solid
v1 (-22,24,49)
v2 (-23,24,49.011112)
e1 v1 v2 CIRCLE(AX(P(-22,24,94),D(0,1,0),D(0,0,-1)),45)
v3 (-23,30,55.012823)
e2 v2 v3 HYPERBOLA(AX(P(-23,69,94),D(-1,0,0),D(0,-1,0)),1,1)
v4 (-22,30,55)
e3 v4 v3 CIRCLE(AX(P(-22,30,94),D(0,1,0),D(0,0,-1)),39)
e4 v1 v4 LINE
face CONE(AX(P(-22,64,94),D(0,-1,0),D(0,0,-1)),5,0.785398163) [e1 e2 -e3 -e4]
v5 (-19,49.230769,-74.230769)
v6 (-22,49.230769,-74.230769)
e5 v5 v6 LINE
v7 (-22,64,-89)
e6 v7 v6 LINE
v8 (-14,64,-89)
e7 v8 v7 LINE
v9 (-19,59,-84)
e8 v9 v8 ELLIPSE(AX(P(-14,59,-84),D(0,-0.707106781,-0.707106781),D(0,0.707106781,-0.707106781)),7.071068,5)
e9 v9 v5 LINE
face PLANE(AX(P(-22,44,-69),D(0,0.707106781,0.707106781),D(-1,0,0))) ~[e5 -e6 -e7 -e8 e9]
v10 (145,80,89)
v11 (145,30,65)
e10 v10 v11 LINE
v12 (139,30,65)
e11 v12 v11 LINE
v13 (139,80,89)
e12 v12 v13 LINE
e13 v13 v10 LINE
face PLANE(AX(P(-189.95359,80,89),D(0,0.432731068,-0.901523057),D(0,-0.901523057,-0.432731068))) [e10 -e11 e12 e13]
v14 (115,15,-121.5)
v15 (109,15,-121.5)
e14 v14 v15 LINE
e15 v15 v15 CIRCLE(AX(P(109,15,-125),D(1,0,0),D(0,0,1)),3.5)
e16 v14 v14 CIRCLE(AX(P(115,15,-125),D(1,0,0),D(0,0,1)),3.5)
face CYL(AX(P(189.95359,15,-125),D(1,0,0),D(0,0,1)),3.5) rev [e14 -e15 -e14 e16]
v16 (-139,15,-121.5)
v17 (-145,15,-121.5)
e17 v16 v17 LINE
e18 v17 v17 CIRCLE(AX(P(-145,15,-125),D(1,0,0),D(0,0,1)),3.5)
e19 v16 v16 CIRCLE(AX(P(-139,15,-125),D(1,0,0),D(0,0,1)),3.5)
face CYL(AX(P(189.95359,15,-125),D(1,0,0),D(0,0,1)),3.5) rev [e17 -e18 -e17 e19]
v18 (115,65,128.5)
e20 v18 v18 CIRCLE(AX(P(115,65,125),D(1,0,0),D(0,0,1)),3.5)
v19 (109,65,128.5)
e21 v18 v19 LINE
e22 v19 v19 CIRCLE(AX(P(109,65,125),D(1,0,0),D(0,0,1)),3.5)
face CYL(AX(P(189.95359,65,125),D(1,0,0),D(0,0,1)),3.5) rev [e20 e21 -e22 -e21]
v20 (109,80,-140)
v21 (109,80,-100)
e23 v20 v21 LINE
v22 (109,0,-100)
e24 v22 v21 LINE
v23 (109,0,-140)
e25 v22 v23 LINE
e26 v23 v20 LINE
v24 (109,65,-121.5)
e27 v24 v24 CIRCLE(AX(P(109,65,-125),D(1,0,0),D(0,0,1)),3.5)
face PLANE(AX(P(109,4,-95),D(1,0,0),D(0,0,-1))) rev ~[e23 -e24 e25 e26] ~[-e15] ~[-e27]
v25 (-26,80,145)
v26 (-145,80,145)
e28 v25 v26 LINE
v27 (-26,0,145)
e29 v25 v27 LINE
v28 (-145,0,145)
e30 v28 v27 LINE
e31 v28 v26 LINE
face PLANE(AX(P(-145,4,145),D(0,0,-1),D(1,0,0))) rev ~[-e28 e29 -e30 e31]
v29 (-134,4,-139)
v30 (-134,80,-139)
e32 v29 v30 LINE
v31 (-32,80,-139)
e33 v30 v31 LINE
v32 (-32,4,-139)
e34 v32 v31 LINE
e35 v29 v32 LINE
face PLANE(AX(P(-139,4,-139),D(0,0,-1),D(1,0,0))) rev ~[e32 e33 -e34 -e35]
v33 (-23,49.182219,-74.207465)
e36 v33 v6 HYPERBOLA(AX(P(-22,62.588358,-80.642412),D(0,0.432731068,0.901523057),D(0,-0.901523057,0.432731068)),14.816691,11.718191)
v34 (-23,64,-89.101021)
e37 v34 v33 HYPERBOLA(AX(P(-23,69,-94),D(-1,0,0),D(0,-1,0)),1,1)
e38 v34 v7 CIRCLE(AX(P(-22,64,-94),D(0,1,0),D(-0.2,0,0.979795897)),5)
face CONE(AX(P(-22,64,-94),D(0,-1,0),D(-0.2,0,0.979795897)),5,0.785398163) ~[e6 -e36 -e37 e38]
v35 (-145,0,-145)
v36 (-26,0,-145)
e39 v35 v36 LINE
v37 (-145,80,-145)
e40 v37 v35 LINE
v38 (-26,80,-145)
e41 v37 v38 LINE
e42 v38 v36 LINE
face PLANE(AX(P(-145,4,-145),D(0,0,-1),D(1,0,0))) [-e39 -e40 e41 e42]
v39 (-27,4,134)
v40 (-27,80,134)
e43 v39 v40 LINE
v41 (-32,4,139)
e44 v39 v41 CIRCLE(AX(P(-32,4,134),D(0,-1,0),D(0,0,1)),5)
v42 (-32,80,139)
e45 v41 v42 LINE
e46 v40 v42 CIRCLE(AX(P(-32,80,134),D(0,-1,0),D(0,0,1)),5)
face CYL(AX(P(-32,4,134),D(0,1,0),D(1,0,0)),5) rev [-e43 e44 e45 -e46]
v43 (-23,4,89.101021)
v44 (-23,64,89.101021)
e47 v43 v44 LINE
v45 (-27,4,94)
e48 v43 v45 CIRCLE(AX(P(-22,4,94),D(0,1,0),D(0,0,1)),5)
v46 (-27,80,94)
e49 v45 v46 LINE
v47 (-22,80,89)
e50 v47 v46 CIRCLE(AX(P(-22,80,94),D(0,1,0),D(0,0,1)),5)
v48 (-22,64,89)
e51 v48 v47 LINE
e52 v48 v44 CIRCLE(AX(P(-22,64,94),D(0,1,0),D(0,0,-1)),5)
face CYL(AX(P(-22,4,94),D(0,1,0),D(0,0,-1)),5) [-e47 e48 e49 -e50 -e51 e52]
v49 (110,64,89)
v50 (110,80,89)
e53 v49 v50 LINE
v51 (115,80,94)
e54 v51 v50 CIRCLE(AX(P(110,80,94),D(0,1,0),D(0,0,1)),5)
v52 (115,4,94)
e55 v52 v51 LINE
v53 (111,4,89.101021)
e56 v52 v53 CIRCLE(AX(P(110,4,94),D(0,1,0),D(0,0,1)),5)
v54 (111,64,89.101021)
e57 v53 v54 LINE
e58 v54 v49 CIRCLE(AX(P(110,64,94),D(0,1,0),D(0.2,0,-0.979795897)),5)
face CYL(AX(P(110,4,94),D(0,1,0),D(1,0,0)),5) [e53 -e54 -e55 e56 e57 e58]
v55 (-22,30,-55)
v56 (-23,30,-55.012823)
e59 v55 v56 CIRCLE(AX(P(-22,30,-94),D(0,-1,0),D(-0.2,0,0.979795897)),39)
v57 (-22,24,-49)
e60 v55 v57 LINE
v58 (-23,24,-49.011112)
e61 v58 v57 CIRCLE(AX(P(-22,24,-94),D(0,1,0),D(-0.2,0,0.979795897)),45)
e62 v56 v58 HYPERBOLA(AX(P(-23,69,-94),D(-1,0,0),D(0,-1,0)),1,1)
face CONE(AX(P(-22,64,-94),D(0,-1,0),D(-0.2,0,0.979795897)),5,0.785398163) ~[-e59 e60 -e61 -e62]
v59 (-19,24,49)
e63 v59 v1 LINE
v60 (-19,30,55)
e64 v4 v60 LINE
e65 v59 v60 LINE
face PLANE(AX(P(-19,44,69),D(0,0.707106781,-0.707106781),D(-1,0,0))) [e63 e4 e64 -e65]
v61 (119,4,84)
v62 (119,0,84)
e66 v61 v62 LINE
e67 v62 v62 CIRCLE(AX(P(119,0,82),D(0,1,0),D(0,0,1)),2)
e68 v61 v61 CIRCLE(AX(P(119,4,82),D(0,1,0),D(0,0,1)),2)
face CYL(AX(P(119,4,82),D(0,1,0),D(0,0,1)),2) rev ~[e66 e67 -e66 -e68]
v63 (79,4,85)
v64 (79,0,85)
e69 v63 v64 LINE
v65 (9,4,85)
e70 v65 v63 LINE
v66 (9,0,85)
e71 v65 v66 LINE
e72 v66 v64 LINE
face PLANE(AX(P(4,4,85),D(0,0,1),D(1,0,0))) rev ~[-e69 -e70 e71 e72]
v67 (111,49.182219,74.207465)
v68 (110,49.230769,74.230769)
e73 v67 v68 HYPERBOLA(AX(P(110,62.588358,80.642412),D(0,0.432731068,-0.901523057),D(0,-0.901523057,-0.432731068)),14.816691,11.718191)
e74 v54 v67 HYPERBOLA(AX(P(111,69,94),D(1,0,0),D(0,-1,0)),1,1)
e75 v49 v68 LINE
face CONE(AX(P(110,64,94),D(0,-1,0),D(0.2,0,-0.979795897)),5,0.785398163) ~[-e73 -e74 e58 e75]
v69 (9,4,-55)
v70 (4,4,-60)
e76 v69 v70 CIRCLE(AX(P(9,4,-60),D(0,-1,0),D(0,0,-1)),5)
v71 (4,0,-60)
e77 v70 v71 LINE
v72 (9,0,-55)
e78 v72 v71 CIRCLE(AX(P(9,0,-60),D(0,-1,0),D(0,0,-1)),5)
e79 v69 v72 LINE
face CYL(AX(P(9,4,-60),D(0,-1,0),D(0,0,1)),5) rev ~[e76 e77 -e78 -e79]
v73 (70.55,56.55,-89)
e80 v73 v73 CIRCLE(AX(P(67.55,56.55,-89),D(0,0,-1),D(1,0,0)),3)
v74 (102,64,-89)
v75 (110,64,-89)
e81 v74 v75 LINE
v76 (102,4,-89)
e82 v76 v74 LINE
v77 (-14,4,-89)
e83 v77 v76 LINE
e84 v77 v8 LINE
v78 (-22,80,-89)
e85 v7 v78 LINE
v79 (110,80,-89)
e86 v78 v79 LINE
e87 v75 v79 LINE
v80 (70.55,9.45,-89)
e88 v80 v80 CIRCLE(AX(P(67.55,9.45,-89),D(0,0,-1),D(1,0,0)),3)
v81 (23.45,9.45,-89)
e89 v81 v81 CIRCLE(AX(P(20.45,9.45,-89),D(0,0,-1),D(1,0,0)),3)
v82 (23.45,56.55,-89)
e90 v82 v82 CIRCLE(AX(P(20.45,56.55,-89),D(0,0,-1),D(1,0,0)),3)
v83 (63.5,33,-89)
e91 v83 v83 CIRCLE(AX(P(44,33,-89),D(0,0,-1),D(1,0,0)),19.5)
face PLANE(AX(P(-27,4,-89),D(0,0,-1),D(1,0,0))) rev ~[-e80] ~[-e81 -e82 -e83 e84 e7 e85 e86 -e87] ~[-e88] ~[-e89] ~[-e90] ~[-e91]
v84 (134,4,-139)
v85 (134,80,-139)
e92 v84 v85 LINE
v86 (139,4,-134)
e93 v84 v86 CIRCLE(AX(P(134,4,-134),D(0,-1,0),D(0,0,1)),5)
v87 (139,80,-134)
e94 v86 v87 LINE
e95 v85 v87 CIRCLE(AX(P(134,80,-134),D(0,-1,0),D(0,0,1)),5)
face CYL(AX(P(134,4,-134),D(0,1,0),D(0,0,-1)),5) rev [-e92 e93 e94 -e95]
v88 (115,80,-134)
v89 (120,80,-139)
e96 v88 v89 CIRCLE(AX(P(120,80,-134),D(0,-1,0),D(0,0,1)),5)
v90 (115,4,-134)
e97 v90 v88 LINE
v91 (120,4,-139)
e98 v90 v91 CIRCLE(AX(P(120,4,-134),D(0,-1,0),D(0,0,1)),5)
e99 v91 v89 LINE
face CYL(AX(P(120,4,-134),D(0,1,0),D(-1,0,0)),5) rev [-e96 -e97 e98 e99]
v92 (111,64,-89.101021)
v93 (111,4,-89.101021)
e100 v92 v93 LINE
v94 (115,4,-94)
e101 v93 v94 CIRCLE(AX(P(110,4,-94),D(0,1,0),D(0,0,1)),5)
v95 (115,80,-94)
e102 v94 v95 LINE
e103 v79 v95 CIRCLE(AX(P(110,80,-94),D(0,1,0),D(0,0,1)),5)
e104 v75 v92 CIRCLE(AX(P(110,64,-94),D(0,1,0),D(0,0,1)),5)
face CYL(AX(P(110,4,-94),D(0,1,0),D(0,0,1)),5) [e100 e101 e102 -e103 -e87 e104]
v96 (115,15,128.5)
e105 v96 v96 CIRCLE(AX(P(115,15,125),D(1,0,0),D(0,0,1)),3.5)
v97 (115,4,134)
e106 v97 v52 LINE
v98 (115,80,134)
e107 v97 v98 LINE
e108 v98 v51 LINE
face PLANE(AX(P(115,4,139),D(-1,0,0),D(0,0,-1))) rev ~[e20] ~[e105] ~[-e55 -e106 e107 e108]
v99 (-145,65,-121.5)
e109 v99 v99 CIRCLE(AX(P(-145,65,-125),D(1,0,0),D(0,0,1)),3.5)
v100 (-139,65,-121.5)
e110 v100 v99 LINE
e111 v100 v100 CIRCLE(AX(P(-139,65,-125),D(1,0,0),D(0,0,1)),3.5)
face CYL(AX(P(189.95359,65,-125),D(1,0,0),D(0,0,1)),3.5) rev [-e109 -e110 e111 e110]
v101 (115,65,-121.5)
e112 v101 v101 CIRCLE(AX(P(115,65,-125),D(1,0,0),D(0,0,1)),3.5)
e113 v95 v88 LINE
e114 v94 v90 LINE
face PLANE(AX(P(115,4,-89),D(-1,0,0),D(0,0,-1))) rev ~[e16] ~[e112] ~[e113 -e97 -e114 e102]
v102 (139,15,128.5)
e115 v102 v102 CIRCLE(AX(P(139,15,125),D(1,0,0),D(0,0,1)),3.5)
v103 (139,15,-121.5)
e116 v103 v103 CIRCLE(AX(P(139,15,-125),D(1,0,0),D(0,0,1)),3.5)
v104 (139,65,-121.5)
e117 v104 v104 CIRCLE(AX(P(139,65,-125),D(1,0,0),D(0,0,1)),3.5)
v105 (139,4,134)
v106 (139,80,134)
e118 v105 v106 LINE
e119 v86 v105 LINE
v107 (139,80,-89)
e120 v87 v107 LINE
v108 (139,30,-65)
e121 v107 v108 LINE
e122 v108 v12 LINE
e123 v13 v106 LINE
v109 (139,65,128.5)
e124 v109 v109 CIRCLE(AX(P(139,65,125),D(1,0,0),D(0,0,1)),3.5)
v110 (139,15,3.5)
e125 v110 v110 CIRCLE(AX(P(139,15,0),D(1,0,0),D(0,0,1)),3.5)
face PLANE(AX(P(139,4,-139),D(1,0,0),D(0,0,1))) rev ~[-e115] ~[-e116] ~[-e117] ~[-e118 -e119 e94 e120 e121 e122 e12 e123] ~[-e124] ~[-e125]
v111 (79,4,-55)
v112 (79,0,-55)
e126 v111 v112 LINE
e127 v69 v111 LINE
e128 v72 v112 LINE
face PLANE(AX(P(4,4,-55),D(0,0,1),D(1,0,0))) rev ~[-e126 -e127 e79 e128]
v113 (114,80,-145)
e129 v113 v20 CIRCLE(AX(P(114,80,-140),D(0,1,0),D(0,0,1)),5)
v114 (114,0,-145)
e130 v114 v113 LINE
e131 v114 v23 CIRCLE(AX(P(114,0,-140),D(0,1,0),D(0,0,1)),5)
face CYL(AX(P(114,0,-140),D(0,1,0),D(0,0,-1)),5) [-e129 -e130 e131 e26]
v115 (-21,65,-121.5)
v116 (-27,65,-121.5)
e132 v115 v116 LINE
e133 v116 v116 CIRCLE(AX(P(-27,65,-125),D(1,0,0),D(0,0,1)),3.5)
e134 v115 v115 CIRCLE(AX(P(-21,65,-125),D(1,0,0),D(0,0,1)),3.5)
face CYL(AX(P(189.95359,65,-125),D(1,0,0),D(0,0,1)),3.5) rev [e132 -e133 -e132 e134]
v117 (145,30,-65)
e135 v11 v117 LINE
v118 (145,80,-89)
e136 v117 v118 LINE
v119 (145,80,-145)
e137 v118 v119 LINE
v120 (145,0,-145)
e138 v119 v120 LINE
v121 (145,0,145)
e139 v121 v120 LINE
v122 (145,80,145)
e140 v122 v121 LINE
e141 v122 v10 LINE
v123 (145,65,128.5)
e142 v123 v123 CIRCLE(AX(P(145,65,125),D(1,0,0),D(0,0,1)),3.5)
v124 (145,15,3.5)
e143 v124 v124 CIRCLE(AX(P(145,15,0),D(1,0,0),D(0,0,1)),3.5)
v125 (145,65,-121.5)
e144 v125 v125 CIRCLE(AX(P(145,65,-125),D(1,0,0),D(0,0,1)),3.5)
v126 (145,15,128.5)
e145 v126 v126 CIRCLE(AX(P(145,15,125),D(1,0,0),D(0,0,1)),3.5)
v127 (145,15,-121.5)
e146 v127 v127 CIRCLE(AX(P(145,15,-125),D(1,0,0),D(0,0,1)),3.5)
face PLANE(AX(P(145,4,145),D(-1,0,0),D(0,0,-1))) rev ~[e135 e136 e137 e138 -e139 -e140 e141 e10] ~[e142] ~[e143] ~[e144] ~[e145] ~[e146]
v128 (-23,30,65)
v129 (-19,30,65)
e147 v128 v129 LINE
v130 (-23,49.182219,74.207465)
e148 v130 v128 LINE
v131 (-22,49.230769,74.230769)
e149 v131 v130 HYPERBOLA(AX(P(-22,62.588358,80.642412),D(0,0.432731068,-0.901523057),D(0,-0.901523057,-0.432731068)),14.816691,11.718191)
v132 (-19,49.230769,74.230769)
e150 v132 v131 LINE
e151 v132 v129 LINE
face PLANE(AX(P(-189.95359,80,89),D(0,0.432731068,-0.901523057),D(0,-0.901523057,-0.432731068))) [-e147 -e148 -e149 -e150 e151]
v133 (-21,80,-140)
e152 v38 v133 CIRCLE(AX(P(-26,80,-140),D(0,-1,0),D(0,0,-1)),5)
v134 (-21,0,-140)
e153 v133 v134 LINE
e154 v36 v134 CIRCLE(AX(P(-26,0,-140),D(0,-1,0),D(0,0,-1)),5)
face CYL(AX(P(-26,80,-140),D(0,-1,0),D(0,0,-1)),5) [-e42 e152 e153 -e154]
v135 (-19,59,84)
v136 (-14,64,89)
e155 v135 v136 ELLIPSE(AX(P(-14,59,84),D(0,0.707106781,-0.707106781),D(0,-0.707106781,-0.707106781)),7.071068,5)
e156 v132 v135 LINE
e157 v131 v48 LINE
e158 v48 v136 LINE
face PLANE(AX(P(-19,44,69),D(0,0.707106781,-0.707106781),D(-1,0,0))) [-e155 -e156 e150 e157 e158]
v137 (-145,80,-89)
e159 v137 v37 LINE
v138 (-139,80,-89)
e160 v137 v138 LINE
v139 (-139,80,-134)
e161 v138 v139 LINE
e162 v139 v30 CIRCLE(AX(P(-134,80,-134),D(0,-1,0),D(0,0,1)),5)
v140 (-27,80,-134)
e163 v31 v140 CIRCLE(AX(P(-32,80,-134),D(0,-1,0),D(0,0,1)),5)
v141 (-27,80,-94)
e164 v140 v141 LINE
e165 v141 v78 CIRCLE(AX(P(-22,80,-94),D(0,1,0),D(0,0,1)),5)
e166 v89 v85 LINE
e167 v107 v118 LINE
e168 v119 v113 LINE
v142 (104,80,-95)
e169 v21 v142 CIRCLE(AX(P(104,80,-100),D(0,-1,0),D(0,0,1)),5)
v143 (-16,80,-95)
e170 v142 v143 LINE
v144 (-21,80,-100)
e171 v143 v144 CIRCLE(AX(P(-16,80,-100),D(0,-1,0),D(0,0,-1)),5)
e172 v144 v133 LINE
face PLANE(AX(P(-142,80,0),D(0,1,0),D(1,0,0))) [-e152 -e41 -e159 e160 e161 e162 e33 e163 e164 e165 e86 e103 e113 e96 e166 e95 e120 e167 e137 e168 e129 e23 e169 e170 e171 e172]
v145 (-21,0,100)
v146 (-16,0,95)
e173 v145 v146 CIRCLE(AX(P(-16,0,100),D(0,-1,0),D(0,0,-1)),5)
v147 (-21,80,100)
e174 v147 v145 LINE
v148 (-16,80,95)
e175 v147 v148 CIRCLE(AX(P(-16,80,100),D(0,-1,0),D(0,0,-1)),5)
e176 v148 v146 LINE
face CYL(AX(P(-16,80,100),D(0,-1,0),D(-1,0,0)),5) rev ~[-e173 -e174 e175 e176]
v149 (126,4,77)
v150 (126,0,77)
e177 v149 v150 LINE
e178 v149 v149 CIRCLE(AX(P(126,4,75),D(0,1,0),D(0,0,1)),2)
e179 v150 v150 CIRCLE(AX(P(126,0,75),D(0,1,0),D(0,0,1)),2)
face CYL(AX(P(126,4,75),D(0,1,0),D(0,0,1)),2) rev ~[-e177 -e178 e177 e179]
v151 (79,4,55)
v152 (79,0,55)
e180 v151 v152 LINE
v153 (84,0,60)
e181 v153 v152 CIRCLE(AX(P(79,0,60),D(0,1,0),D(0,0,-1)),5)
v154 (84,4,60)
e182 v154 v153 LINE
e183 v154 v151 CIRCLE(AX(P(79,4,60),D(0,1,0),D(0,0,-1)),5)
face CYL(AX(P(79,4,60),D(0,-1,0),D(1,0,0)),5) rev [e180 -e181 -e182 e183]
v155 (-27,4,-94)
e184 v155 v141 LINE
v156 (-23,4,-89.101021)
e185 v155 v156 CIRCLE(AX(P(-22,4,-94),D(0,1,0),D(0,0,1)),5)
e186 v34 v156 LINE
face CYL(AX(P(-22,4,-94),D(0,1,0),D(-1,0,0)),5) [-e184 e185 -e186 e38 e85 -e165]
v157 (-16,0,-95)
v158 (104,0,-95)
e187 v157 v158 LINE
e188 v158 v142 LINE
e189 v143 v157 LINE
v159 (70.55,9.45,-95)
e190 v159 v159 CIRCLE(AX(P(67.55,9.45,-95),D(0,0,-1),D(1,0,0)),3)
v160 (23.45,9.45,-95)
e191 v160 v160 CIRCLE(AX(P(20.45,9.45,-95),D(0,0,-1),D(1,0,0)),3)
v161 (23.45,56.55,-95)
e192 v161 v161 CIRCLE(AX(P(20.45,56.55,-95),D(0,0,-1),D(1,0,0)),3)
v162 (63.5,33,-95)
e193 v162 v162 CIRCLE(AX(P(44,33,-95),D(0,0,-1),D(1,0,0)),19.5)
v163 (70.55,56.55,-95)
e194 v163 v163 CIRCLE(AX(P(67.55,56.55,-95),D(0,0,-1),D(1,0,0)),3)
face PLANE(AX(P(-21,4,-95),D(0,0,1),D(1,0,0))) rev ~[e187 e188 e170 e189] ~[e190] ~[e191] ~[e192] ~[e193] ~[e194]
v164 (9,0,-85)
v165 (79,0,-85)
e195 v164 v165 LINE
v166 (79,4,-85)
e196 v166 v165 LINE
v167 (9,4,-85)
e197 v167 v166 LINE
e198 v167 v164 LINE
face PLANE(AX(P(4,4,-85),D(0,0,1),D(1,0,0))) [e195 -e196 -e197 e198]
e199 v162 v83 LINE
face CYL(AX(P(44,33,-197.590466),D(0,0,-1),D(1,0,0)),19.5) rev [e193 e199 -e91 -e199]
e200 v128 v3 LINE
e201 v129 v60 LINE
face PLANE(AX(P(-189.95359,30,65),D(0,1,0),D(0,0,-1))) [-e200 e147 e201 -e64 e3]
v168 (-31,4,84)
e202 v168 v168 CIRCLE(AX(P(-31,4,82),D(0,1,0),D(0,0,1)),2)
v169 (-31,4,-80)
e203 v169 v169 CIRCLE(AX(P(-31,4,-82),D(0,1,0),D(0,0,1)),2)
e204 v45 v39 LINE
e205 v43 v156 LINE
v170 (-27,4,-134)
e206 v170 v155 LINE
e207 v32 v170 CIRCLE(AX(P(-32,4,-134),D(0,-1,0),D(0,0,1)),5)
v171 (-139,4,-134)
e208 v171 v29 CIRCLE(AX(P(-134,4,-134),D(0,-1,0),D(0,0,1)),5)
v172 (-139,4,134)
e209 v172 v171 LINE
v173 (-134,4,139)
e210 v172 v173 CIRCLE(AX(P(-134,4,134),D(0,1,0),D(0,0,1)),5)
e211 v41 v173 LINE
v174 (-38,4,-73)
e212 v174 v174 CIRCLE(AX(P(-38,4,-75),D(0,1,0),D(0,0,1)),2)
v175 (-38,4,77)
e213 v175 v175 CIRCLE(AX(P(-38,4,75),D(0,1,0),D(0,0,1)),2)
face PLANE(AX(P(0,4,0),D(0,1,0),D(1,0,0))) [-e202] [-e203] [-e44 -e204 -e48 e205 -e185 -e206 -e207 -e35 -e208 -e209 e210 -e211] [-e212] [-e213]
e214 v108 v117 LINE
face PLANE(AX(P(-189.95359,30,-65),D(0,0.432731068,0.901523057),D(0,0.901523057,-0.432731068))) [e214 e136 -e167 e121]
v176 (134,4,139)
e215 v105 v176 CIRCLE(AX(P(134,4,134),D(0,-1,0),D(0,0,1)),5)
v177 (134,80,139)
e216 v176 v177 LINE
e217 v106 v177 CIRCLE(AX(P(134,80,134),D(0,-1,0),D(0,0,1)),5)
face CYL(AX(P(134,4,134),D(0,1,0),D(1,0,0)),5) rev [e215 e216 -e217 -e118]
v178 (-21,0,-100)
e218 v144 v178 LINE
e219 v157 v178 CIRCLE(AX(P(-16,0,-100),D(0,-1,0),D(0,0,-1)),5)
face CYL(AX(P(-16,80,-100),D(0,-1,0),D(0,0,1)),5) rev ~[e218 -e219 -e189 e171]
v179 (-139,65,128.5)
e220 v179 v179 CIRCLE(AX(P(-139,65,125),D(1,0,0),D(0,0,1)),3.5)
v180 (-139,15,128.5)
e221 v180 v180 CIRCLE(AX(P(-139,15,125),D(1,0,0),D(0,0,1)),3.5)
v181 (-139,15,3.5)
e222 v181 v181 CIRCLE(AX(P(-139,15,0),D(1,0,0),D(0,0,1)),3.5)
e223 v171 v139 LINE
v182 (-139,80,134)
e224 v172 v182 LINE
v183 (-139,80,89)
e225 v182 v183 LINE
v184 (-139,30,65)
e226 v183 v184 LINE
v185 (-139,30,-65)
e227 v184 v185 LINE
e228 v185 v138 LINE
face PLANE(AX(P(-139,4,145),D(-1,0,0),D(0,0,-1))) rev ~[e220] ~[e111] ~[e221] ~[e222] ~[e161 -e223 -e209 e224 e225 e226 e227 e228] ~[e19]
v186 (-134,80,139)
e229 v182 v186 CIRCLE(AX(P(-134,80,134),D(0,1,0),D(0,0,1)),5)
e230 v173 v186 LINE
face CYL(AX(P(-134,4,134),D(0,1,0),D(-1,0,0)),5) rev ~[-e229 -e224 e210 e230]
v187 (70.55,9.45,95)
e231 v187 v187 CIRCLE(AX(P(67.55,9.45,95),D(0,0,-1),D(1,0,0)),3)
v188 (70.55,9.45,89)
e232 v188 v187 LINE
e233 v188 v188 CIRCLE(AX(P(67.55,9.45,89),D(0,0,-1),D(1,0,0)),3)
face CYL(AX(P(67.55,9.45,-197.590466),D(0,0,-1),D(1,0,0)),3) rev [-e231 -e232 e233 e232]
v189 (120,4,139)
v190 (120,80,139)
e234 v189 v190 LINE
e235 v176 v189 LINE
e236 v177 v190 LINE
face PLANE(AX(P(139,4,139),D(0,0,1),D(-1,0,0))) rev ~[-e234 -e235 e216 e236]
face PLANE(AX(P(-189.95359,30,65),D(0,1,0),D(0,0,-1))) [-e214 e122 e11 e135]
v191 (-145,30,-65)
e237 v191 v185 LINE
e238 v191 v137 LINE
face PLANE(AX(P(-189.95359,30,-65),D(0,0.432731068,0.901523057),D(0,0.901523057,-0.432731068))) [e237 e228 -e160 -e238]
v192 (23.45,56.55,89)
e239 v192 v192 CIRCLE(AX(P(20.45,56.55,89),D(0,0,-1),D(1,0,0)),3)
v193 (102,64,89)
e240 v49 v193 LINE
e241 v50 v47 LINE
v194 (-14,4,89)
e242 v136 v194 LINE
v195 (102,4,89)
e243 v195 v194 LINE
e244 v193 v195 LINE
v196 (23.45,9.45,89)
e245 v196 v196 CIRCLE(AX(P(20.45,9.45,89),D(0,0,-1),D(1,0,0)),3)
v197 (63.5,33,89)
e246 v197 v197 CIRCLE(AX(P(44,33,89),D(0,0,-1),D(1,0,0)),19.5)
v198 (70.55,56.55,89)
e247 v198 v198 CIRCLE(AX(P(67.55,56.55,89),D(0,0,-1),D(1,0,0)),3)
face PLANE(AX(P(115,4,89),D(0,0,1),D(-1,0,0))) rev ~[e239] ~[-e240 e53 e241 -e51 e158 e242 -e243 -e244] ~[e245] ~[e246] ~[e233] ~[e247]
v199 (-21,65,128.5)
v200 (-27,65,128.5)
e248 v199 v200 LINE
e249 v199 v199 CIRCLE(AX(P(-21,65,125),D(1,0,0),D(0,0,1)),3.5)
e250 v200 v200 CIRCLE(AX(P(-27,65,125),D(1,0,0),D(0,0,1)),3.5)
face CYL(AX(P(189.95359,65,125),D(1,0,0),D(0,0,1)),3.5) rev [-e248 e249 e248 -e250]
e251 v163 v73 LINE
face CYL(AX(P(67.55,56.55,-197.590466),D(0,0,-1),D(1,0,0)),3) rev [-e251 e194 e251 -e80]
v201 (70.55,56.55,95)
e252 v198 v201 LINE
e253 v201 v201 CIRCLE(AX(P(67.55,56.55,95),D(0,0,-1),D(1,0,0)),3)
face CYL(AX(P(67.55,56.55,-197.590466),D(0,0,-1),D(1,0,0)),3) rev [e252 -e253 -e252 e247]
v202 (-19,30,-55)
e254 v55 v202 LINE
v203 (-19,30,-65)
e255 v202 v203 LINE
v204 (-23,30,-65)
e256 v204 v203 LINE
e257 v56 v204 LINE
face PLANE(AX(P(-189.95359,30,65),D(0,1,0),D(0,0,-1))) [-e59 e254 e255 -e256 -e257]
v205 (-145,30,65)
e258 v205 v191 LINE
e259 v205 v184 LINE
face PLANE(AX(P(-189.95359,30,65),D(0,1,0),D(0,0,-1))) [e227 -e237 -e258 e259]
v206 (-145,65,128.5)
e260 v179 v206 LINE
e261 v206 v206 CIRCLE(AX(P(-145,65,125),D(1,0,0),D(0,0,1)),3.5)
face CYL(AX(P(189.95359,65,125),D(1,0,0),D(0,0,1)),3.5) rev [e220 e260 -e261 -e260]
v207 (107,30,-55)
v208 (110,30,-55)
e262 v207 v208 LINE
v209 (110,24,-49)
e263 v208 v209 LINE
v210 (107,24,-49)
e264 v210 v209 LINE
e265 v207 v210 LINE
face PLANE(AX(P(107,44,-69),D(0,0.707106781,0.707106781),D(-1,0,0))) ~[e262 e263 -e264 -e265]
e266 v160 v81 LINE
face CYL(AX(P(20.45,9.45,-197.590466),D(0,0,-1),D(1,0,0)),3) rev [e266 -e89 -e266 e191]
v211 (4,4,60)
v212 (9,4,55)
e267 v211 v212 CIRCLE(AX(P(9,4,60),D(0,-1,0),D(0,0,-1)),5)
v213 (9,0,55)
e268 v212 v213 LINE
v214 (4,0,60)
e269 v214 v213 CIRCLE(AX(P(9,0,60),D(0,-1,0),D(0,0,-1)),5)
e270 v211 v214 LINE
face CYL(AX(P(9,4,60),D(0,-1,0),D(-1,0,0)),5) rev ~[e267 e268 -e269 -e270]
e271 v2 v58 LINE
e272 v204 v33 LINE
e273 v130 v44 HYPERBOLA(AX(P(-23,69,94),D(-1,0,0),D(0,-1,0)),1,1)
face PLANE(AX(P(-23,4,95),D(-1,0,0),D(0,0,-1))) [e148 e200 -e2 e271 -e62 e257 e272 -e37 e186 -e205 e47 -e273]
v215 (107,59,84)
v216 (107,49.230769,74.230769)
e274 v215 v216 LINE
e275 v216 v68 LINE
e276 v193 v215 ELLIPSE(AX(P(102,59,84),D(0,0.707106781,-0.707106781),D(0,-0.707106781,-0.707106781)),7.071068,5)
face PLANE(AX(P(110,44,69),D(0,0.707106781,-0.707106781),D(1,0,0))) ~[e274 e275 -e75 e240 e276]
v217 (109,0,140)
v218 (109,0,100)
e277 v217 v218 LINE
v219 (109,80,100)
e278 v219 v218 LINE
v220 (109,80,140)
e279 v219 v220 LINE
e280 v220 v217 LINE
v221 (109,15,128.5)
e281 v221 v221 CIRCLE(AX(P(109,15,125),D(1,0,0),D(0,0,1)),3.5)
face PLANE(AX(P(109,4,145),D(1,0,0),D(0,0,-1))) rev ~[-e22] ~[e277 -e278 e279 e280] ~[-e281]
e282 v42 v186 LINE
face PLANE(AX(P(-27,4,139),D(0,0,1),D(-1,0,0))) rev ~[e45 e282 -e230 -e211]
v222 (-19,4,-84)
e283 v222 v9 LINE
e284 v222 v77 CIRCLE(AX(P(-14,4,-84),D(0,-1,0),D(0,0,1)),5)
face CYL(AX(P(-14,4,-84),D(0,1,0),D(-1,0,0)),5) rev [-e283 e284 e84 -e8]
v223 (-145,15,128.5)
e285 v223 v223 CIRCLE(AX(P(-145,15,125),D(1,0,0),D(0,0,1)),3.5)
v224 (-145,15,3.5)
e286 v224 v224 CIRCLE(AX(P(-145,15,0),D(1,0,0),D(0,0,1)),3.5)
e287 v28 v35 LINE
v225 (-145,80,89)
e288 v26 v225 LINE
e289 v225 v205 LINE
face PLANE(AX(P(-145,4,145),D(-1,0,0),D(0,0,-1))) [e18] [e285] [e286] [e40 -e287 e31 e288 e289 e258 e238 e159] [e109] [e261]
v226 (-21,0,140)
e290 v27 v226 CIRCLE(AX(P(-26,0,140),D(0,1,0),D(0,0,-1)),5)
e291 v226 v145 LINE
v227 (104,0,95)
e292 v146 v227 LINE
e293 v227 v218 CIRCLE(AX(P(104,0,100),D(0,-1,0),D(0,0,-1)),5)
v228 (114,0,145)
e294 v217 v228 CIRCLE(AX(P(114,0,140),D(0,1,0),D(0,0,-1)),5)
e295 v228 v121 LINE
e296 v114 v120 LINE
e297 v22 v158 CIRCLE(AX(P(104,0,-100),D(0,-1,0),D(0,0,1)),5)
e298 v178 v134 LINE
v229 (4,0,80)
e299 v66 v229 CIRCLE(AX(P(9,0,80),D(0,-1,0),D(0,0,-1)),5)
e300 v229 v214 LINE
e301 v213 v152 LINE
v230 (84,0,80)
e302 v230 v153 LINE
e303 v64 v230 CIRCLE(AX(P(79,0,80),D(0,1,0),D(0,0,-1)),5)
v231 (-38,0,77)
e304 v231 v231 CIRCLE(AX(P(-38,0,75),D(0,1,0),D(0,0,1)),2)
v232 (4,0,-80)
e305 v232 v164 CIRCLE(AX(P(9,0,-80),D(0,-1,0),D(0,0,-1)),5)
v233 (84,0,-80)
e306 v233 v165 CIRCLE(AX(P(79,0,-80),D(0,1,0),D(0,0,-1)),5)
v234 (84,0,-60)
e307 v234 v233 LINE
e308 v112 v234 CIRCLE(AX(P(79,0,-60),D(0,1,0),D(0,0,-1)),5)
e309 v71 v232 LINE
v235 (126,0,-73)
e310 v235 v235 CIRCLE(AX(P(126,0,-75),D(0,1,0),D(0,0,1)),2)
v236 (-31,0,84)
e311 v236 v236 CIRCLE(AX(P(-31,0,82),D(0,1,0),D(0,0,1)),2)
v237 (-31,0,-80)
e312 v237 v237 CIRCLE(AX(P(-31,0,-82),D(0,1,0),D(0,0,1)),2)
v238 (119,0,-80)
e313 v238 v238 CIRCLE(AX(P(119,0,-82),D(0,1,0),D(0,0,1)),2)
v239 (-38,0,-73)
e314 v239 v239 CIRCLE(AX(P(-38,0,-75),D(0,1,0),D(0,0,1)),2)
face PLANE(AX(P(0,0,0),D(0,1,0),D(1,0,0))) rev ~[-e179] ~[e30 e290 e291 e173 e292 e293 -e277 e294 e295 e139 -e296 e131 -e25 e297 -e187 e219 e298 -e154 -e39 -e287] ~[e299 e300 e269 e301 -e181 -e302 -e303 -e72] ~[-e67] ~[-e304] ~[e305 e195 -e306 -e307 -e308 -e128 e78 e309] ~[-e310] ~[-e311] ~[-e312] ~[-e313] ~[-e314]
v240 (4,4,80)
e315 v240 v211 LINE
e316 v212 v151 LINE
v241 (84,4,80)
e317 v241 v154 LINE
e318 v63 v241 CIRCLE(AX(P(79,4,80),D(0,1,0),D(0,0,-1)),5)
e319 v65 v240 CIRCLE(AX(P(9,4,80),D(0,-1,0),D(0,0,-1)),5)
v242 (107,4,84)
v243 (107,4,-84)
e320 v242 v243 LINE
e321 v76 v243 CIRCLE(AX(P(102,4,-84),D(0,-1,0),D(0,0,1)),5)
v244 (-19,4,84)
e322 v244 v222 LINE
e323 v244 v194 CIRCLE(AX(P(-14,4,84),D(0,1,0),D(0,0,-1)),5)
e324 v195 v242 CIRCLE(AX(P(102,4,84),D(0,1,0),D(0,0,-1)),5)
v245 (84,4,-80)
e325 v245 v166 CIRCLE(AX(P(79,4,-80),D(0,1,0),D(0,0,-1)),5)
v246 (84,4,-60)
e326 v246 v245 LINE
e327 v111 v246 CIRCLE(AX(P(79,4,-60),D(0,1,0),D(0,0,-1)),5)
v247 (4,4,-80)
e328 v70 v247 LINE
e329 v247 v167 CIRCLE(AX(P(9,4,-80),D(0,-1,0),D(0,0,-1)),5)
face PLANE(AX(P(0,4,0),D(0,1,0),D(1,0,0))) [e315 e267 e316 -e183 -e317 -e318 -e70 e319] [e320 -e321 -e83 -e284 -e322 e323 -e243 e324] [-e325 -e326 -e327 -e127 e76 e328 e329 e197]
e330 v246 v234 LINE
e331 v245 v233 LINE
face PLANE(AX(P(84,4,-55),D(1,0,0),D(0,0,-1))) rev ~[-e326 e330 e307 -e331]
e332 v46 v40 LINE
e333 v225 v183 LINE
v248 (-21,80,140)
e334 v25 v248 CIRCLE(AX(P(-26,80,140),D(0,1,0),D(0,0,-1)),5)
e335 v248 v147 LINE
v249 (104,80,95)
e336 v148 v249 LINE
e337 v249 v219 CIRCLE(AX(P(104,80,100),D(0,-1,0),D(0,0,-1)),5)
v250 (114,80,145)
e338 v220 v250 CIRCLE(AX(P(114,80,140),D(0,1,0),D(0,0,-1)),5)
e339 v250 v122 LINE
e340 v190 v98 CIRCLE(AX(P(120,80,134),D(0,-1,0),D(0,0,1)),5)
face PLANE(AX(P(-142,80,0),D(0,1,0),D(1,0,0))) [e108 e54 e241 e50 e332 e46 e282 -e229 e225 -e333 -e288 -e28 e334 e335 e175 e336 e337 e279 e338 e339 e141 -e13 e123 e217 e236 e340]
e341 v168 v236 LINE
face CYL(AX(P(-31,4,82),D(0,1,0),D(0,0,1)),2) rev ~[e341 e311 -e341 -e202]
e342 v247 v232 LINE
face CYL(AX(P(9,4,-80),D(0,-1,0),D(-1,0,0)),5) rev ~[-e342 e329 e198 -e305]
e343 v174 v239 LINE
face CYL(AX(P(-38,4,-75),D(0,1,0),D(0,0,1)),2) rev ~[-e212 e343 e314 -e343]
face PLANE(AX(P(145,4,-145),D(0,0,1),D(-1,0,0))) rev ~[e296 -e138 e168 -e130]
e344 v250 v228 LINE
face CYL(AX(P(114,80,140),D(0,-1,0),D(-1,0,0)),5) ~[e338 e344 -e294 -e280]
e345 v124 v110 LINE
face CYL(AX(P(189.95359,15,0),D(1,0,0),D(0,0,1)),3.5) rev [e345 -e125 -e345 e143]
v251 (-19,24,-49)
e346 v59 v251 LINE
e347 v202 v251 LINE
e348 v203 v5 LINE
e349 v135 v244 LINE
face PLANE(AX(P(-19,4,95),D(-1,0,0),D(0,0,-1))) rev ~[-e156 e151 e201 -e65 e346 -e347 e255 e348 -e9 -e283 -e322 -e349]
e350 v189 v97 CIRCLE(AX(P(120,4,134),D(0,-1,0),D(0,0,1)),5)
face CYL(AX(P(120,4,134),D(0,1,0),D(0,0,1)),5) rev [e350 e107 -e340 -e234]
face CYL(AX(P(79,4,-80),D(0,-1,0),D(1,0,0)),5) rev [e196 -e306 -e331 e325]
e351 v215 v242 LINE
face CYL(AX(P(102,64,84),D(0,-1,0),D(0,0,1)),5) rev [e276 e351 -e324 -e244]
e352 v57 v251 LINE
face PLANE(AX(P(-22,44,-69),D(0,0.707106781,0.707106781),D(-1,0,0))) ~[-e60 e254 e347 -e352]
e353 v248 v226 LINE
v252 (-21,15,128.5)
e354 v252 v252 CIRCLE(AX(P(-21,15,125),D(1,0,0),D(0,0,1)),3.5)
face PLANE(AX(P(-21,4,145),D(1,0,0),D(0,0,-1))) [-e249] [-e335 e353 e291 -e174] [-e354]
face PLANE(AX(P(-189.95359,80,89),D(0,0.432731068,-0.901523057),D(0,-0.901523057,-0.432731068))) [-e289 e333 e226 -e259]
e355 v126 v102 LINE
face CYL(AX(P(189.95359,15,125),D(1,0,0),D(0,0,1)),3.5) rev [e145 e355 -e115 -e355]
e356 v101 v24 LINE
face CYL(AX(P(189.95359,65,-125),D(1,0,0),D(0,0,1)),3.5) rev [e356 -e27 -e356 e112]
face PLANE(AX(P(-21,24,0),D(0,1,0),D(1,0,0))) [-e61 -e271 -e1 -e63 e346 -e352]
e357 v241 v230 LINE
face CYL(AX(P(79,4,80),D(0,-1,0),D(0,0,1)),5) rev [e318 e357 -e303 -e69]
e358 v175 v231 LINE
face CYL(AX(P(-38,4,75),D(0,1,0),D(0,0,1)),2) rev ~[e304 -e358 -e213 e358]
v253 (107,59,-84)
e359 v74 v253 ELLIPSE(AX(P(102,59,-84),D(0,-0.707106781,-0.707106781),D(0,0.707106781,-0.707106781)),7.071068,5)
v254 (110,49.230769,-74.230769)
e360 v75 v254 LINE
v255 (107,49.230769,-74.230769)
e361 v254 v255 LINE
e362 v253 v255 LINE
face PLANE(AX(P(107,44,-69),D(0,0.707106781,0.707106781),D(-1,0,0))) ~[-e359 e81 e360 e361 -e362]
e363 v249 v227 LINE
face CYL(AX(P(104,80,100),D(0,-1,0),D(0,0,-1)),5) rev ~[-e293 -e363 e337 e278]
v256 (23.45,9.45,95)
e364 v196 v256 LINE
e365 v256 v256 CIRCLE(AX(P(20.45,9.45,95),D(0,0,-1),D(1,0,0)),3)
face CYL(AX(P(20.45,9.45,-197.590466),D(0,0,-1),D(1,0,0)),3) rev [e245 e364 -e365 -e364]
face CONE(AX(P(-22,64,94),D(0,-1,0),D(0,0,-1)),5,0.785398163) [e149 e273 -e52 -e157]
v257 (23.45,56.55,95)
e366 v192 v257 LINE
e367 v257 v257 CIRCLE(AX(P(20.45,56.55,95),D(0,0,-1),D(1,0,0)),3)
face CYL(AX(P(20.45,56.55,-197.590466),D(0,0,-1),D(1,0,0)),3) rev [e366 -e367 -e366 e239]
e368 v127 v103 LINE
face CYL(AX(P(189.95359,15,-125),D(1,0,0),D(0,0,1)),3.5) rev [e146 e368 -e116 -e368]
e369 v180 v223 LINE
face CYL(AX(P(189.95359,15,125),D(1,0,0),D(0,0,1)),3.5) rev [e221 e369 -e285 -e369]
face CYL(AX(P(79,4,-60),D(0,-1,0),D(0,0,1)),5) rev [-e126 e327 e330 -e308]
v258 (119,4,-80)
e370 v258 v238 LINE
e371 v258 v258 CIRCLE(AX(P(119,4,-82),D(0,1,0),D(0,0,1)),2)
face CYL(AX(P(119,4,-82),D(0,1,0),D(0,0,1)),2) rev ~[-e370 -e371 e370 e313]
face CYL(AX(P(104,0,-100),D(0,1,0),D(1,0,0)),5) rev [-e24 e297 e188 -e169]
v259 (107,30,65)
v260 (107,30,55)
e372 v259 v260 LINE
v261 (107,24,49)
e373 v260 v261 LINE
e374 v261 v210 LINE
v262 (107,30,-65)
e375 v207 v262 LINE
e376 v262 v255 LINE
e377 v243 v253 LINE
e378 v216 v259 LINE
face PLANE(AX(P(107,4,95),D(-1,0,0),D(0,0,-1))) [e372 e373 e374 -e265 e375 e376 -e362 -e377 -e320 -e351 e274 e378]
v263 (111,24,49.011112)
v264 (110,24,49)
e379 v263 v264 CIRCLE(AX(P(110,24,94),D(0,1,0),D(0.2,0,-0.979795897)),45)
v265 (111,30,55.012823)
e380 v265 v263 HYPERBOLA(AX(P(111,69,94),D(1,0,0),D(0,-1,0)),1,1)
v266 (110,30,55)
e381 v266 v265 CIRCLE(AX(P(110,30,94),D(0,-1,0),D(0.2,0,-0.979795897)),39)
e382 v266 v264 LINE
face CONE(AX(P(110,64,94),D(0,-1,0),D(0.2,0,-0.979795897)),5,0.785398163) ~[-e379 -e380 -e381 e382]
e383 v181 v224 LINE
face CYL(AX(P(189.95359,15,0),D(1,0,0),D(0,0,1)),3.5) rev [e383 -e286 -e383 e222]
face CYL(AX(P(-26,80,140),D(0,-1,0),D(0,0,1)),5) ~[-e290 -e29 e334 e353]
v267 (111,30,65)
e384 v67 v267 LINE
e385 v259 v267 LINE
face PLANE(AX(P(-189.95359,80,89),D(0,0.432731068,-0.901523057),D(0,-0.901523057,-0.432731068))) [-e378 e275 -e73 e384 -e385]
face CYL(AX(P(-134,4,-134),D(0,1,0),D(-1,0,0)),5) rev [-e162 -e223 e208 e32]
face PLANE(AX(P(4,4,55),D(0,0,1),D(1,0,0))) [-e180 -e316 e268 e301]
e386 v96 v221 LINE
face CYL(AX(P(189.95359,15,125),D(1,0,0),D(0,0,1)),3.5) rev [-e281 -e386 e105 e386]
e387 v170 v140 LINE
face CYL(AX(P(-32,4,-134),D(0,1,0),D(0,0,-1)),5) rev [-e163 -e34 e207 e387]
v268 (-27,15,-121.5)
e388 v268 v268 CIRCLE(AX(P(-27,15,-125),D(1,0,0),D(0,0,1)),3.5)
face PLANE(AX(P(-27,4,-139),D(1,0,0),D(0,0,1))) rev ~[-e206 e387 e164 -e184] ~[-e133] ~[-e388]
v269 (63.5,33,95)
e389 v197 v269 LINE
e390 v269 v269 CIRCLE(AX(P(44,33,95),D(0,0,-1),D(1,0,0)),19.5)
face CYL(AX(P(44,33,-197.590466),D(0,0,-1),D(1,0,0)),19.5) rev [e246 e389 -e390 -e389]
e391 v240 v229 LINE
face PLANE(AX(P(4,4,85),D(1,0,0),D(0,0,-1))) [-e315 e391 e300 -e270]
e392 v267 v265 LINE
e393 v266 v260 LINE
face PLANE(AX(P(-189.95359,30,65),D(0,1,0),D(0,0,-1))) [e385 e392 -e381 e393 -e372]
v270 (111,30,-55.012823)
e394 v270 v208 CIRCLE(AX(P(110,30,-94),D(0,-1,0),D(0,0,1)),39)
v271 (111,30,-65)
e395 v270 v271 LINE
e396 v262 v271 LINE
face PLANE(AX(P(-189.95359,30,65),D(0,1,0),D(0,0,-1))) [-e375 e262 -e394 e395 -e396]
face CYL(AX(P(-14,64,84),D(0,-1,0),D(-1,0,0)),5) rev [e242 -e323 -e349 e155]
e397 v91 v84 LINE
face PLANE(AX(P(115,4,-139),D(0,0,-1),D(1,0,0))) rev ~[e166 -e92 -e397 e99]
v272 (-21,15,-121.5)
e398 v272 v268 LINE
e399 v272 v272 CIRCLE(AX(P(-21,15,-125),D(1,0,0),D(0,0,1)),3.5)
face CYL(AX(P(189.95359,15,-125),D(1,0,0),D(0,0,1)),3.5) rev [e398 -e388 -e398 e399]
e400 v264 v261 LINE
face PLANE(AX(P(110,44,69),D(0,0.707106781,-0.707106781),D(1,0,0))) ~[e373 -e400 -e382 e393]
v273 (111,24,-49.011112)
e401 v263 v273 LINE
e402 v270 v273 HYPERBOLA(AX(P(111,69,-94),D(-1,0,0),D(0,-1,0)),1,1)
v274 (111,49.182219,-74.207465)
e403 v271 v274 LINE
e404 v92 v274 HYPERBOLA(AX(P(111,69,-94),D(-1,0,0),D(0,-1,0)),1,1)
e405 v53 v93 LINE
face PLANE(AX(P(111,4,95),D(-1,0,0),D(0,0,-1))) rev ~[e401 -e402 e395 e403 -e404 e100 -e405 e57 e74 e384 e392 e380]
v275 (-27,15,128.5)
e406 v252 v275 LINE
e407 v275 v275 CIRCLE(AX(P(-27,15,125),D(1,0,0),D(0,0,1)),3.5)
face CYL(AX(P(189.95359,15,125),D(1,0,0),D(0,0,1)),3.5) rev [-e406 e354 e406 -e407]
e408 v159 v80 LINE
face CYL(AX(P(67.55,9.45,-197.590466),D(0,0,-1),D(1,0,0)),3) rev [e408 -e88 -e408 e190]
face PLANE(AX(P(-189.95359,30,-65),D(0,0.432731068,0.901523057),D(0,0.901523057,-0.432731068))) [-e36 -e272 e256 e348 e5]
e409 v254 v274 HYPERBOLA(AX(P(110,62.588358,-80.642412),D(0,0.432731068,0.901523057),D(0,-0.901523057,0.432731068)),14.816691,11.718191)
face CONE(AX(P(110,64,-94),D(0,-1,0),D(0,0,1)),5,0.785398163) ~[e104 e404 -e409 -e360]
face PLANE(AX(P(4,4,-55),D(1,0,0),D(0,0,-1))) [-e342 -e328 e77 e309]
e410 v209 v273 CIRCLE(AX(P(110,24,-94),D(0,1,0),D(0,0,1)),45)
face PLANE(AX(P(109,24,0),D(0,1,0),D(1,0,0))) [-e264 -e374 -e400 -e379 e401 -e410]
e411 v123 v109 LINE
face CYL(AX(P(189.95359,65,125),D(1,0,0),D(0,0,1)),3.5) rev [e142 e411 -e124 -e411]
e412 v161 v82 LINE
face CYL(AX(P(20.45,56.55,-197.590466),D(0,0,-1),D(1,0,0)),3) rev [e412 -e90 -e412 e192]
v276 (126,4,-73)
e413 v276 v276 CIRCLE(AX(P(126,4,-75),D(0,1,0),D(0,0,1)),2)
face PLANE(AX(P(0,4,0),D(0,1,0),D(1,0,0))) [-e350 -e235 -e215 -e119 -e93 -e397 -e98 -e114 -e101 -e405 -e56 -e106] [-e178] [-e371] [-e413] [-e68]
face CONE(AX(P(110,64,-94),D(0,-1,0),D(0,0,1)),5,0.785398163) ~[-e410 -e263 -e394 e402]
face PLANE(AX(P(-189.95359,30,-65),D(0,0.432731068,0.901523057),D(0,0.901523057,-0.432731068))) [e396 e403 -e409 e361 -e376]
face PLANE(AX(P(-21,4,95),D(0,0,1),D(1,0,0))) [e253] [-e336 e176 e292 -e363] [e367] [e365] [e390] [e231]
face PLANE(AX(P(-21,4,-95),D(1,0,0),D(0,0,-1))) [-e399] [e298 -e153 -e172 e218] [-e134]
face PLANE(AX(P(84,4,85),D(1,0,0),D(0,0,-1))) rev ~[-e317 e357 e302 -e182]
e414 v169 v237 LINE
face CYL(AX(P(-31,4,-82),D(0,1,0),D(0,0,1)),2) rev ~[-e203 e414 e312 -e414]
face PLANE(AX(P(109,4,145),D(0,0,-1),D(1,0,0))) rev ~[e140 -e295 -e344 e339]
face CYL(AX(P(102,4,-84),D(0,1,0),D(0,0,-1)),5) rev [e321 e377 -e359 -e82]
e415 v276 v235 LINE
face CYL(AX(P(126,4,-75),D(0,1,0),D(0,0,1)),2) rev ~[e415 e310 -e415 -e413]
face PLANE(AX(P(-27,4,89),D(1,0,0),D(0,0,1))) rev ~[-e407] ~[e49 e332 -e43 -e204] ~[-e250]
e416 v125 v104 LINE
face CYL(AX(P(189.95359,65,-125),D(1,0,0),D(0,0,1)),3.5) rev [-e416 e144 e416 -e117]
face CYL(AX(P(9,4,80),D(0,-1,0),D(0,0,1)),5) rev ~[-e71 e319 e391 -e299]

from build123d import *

# Parameters (mm, degrees)
SKETCH_1_W                = 290
SKETCH_1_H                = 290
EXTRUDE_1_DEPTH           = 4
EXTRUDE_2_DEPTH           = 76
SKETCH_16_W               = 130
SKETCH_16_H               = 50
CUT_EXTRUDE_11_DEPTH      = 10
SKETCH_4_W                = 6
SKETCH_4_H                = 290
EXTRUDE_3_DEPTH           = 76
SKETCH_7_R                = 2
CUT_EXTRUDE_3_DEPTH       = 10
SKETCH_14_W               = 80
SKETCH_14_H               = 30
CUT_EXTRUDE_9_DEPTH       = 20
CUT_EXTRUDE_10_DEPTH      = 334.95358959
CUT_EXTRUDE_10_DEPTH_BACK = 334.95358959
SKETCH_15_R               = 3.5
FILLET_1_R                = 5
CUT_EXTRUDE_12_DEPTH      = 292.590466236
CUT_EXTRUDE_12_DEPTH_BACK = 292.590466236
SKETCH_17_R               = 19.5
SKETCH_17_R_2             = 3
SKETCH_18_W               = 4
SKETCH_18_H               = 190
EXTRUDE_4_DEPTH           = 20
CHAMFER_1_SIZE            = 40
CUT_EXTRUDE_13_DEPTH      = 334.95358959
CUT_EXTRUDE_13_DEPTH_BACK = 334.95358959
FILLET_2_R                = 5


with BuildPart() as part:
    # Эскиз1 → Бобышка-Вытянуть1 (new body)
    with BuildSketch(Plane(origin=(0, 0, 0), x_dir=(1, 0, 0), z_dir=(0, 1, 0))):
        Rectangle(SKETCH_1_W, SKETCH_1_H)
    extrude(amount=EXTRUDE_1_DEPTH)

    # Эскиз2 → Бобышка-Вытянуть2 (add)
    with BuildSketch(Plane(origin=(0, 4, 0), x_dir=(1, 0, 0), z_dir=(0, 1, 0))):
        Polygon((145, 145), (109, 145), (109, 95), (-21, 95), (-21, 145), (-139, 145), (-139, 139), (-27, 139), (-27, 89), (115, 89), (115, 139), (139, 139), (139, -139), (115, -139), (115, -89), (-27, -89), (-27, -139), (-139, -139), (-139, -145), (-21, -145), (-21, -95), (109, -95), (109, -145), (145, -145), (145, 0.239524614), align=None)
    extrude(amount=EXTRUDE_2_DEPTH)

    # Эскиз16 → Вырез-Вытянуть11 (cut)
    with BuildSketch(Plane(origin=(0, 4, 0), x_dir=(1, 0, 0), z_dir=(0, 1, 0))):
        with Locations((44, 120)):
            Rectangle(SKETCH_16_W, SKETCH_16_H)
        with Locations((44, -120)):
            Rectangle(SKETCH_16_W, SKETCH_16_H)
    extrude(amount=-CUT_EXTRUDE_11_DEPTH, mode=Mode.SUBTRACT)

    # Эскиз4 → Бобышка-Вытянуть3 (add)
    with BuildSketch(Plane(origin=(0, 4, 0), x_dir=(1, 0, 0), z_dir=(0, 1, 0))):
        with Locations((-142, 0)):
            Rectangle(SKETCH_4_W, SKETCH_4_H)
    extrude(amount=EXTRUDE_3_DEPTH)

    # Эскиз7 → Вырез-Вытянуть3 (cut)
    with BuildSketch(Plane(origin=(0, 4, 0), x_dir=(1, 0, 0), z_dir=(0, 1, 0))):
        with Locations(Location((119, 82, 0), (0, 0, 270))):
            Circle(SKETCH_7_R)
        with Locations(Location((126, 75, 0), (0, 0, 270))):
            Circle(SKETCH_7_R)
        with Locations(Location((-31, 82, 0), (0, 0, 270))):
            Circle(SKETCH_7_R)
        with Locations(Location((-38, 75, 0), (0, 0, 270))):
            Circle(SKETCH_7_R)
        with Locations(Location((119, -82, 0), (0, 0, 270))):
            Circle(SKETCH_7_R)
        with Locations(Location((126, -75, 0), (0, 0, 270))):
            Circle(SKETCH_7_R)
        with Locations(Location((-38, -75, 0), (0, 0, 270))):
            Circle(SKETCH_7_R)
        with Locations(Location((-31, -82, 0), (0, 0, 270))):
            Circle(SKETCH_7_R)
    extrude(amount=-CUT_EXTRUDE_3_DEPTH, mode=Mode.SUBTRACT)

    # Эскиз14 → Вырез-Вытянуть9 (cut)
    with BuildSketch(Plane(origin=(0, 4, 0), x_dir=(1, 0, 0), z_dir=(0, 1, 0))):
        with Locations((44, 70)):
            Rectangle(SKETCH_14_W, SKETCH_14_H)
        with Locations((44, -70)):
            Rectangle(SKETCH_14_W, SKETCH_14_H)
    extrude(amount=-CUT_EXTRUDE_9_DEPTH, mode=Mode.SUBTRACT)

    # Эскиз15 → Вырез-Вытянуть10 (cut, two sides: drawn at the far end of the back side and taken through both)
    with BuildSketch(Plane.ZY.offset(145).offset(-CUT_EXTRUDE_10_DEPTH_BACK)):
        with Locations((0, 65)):
            Circle(SKETCH_15_R)
        with Locations((125, 65)):
            Circle(SKETCH_15_R)
        with Locations((-125, 65)):
            Circle(SKETCH_15_R)
        with Locations((-125, 15)):
            Circle(SKETCH_15_R)
        with Locations((125, 15)):
            Circle(SKETCH_15_R)
        with Locations((0, 15)):
            Circle(SKETCH_15_R)
    extrude(amount=CUT_EXTRUDE_10_DEPTH + CUT_EXTRUDE_10_DEPTH_BACK, mode=Mode.SUBTRACT)

    # Скругление1
    fillet_1_edges = [part.edges().sort_by_distance(p)[0] for p in [
        (109, 40, -145),
        (109, 40, -95),
        (-21, 40, -95),
        (-21, 40, -145),
        (-139, 42, -139),
        (-27, 42, -139),
        (-27, 42, -89),
        (115, 42, -89),
        (115, 42, -139),
        (139, 42, -139),
        (139, 42, 139),
        (115, 42, 139),
        (115, 42, 89),
        (-27, 42, 89),
        (-27, 42, 139),
        (-139, 42, 139),
        (-21, 40, 145),
        (-21, 40, 95),
        (109, 40, 95),
        (109, 40, 145),
    ]]
    fillet(fillet_1_edges, radius=FILLET_1_R)

    # Эскиз17 → Вырез-Вытянуть12 (cut, two sides: drawn at the far end of the back side and taken through both)
    with BuildSketch(Plane.XY.offset(95).offset(-CUT_EXTRUDE_12_DEPTH_BACK)):
        with Locations((44, 33)):
            Circle(SKETCH_17_R)
        with Locations((20.45, 56.55)):
            Circle(SKETCH_17_R_2)
        with Locations((67.55, 56.55)):
            Circle(SKETCH_17_R_2)
        with Locations((67.55, 9.45)):
            Circle(SKETCH_17_R_2)
        with Locations((20.45, 9.45)):
            Circle(SKETCH_17_R_2)
    extrude(amount=CUT_EXTRUDE_12_DEPTH + CUT_EXTRUDE_12_DEPTH_BACK, mode=Mode.SUBTRACT)

    # Эскиз18 → Бобышка-Вытянуть4 (add)
    with BuildSketch(Plane(origin=(0, 4, 0), x_dir=(1, 0, 0), z_dir=(0, 1, 0))):
        with Locations((-21, 0)):
            Rectangle(SKETCH_18_W, SKETCH_18_H)
        with Locations((109, 0)):
            Rectangle(SKETCH_18_W, SKETCH_18_H)
    extrude(amount=EXTRUDE_4_DEPTH)

    # Фаска1
    chamfer_1_edges = [part.edges().sort_by_distance(p)[0] for p in [
        (-22.50254481, 24, -89.025319235),
        (-20.5, 24, 89),
        (-20.5, 24, -89),
        (-22.50254481, 24, 89.025319235),
        (110.50254481, 24, -89.025319235),
        (110.50254481, 24, 89.025319235),
        (108.5, 24, 89),
        (108.5, 24, -89),
    ]]
    chamfer(chamfer_1_edges, length=CHAMFER_1_SIZE)

    # Эскиз19 → Вырез-Вытянуть13 (cut, two sides: drawn at the far end of the back side and taken through both)
    with BuildSketch(Plane(origin=(145, 0, 0), x_dir=(0, 0, -1), z_dir=(1, 0, 0)).offset(-CUT_EXTRUDE_13_DEPTH_BACK)):
        Polygon((-65, 30), (65, 30), (89, 80), (-89, 80), align=None)
    extrude(amount=CUT_EXTRUDE_13_DEPTH + CUT_EXTRUDE_13_DEPTH_BACK, mode=Mode.SUBTRACT)

    # Скругление2
    fillet_2_edges = [part.edges().sort_by_distance(p)[0] for p in [
        (84, 2, -85),
        (84, 2, -55),
        (4, 2, -55),
        (4, 2, -85),
        (4, 2, 85),
        (4, 2, 55),
        (84, 2, 55),
        (84, 2, 85),
        (-19, 34, 89),
        (-19, 34, -89),
        (107, 34, 89),
        (107, 34, -89),
    ]]
    fillet(fillet_2_edges, radius=FILLET_2_R)


solid = part.part
